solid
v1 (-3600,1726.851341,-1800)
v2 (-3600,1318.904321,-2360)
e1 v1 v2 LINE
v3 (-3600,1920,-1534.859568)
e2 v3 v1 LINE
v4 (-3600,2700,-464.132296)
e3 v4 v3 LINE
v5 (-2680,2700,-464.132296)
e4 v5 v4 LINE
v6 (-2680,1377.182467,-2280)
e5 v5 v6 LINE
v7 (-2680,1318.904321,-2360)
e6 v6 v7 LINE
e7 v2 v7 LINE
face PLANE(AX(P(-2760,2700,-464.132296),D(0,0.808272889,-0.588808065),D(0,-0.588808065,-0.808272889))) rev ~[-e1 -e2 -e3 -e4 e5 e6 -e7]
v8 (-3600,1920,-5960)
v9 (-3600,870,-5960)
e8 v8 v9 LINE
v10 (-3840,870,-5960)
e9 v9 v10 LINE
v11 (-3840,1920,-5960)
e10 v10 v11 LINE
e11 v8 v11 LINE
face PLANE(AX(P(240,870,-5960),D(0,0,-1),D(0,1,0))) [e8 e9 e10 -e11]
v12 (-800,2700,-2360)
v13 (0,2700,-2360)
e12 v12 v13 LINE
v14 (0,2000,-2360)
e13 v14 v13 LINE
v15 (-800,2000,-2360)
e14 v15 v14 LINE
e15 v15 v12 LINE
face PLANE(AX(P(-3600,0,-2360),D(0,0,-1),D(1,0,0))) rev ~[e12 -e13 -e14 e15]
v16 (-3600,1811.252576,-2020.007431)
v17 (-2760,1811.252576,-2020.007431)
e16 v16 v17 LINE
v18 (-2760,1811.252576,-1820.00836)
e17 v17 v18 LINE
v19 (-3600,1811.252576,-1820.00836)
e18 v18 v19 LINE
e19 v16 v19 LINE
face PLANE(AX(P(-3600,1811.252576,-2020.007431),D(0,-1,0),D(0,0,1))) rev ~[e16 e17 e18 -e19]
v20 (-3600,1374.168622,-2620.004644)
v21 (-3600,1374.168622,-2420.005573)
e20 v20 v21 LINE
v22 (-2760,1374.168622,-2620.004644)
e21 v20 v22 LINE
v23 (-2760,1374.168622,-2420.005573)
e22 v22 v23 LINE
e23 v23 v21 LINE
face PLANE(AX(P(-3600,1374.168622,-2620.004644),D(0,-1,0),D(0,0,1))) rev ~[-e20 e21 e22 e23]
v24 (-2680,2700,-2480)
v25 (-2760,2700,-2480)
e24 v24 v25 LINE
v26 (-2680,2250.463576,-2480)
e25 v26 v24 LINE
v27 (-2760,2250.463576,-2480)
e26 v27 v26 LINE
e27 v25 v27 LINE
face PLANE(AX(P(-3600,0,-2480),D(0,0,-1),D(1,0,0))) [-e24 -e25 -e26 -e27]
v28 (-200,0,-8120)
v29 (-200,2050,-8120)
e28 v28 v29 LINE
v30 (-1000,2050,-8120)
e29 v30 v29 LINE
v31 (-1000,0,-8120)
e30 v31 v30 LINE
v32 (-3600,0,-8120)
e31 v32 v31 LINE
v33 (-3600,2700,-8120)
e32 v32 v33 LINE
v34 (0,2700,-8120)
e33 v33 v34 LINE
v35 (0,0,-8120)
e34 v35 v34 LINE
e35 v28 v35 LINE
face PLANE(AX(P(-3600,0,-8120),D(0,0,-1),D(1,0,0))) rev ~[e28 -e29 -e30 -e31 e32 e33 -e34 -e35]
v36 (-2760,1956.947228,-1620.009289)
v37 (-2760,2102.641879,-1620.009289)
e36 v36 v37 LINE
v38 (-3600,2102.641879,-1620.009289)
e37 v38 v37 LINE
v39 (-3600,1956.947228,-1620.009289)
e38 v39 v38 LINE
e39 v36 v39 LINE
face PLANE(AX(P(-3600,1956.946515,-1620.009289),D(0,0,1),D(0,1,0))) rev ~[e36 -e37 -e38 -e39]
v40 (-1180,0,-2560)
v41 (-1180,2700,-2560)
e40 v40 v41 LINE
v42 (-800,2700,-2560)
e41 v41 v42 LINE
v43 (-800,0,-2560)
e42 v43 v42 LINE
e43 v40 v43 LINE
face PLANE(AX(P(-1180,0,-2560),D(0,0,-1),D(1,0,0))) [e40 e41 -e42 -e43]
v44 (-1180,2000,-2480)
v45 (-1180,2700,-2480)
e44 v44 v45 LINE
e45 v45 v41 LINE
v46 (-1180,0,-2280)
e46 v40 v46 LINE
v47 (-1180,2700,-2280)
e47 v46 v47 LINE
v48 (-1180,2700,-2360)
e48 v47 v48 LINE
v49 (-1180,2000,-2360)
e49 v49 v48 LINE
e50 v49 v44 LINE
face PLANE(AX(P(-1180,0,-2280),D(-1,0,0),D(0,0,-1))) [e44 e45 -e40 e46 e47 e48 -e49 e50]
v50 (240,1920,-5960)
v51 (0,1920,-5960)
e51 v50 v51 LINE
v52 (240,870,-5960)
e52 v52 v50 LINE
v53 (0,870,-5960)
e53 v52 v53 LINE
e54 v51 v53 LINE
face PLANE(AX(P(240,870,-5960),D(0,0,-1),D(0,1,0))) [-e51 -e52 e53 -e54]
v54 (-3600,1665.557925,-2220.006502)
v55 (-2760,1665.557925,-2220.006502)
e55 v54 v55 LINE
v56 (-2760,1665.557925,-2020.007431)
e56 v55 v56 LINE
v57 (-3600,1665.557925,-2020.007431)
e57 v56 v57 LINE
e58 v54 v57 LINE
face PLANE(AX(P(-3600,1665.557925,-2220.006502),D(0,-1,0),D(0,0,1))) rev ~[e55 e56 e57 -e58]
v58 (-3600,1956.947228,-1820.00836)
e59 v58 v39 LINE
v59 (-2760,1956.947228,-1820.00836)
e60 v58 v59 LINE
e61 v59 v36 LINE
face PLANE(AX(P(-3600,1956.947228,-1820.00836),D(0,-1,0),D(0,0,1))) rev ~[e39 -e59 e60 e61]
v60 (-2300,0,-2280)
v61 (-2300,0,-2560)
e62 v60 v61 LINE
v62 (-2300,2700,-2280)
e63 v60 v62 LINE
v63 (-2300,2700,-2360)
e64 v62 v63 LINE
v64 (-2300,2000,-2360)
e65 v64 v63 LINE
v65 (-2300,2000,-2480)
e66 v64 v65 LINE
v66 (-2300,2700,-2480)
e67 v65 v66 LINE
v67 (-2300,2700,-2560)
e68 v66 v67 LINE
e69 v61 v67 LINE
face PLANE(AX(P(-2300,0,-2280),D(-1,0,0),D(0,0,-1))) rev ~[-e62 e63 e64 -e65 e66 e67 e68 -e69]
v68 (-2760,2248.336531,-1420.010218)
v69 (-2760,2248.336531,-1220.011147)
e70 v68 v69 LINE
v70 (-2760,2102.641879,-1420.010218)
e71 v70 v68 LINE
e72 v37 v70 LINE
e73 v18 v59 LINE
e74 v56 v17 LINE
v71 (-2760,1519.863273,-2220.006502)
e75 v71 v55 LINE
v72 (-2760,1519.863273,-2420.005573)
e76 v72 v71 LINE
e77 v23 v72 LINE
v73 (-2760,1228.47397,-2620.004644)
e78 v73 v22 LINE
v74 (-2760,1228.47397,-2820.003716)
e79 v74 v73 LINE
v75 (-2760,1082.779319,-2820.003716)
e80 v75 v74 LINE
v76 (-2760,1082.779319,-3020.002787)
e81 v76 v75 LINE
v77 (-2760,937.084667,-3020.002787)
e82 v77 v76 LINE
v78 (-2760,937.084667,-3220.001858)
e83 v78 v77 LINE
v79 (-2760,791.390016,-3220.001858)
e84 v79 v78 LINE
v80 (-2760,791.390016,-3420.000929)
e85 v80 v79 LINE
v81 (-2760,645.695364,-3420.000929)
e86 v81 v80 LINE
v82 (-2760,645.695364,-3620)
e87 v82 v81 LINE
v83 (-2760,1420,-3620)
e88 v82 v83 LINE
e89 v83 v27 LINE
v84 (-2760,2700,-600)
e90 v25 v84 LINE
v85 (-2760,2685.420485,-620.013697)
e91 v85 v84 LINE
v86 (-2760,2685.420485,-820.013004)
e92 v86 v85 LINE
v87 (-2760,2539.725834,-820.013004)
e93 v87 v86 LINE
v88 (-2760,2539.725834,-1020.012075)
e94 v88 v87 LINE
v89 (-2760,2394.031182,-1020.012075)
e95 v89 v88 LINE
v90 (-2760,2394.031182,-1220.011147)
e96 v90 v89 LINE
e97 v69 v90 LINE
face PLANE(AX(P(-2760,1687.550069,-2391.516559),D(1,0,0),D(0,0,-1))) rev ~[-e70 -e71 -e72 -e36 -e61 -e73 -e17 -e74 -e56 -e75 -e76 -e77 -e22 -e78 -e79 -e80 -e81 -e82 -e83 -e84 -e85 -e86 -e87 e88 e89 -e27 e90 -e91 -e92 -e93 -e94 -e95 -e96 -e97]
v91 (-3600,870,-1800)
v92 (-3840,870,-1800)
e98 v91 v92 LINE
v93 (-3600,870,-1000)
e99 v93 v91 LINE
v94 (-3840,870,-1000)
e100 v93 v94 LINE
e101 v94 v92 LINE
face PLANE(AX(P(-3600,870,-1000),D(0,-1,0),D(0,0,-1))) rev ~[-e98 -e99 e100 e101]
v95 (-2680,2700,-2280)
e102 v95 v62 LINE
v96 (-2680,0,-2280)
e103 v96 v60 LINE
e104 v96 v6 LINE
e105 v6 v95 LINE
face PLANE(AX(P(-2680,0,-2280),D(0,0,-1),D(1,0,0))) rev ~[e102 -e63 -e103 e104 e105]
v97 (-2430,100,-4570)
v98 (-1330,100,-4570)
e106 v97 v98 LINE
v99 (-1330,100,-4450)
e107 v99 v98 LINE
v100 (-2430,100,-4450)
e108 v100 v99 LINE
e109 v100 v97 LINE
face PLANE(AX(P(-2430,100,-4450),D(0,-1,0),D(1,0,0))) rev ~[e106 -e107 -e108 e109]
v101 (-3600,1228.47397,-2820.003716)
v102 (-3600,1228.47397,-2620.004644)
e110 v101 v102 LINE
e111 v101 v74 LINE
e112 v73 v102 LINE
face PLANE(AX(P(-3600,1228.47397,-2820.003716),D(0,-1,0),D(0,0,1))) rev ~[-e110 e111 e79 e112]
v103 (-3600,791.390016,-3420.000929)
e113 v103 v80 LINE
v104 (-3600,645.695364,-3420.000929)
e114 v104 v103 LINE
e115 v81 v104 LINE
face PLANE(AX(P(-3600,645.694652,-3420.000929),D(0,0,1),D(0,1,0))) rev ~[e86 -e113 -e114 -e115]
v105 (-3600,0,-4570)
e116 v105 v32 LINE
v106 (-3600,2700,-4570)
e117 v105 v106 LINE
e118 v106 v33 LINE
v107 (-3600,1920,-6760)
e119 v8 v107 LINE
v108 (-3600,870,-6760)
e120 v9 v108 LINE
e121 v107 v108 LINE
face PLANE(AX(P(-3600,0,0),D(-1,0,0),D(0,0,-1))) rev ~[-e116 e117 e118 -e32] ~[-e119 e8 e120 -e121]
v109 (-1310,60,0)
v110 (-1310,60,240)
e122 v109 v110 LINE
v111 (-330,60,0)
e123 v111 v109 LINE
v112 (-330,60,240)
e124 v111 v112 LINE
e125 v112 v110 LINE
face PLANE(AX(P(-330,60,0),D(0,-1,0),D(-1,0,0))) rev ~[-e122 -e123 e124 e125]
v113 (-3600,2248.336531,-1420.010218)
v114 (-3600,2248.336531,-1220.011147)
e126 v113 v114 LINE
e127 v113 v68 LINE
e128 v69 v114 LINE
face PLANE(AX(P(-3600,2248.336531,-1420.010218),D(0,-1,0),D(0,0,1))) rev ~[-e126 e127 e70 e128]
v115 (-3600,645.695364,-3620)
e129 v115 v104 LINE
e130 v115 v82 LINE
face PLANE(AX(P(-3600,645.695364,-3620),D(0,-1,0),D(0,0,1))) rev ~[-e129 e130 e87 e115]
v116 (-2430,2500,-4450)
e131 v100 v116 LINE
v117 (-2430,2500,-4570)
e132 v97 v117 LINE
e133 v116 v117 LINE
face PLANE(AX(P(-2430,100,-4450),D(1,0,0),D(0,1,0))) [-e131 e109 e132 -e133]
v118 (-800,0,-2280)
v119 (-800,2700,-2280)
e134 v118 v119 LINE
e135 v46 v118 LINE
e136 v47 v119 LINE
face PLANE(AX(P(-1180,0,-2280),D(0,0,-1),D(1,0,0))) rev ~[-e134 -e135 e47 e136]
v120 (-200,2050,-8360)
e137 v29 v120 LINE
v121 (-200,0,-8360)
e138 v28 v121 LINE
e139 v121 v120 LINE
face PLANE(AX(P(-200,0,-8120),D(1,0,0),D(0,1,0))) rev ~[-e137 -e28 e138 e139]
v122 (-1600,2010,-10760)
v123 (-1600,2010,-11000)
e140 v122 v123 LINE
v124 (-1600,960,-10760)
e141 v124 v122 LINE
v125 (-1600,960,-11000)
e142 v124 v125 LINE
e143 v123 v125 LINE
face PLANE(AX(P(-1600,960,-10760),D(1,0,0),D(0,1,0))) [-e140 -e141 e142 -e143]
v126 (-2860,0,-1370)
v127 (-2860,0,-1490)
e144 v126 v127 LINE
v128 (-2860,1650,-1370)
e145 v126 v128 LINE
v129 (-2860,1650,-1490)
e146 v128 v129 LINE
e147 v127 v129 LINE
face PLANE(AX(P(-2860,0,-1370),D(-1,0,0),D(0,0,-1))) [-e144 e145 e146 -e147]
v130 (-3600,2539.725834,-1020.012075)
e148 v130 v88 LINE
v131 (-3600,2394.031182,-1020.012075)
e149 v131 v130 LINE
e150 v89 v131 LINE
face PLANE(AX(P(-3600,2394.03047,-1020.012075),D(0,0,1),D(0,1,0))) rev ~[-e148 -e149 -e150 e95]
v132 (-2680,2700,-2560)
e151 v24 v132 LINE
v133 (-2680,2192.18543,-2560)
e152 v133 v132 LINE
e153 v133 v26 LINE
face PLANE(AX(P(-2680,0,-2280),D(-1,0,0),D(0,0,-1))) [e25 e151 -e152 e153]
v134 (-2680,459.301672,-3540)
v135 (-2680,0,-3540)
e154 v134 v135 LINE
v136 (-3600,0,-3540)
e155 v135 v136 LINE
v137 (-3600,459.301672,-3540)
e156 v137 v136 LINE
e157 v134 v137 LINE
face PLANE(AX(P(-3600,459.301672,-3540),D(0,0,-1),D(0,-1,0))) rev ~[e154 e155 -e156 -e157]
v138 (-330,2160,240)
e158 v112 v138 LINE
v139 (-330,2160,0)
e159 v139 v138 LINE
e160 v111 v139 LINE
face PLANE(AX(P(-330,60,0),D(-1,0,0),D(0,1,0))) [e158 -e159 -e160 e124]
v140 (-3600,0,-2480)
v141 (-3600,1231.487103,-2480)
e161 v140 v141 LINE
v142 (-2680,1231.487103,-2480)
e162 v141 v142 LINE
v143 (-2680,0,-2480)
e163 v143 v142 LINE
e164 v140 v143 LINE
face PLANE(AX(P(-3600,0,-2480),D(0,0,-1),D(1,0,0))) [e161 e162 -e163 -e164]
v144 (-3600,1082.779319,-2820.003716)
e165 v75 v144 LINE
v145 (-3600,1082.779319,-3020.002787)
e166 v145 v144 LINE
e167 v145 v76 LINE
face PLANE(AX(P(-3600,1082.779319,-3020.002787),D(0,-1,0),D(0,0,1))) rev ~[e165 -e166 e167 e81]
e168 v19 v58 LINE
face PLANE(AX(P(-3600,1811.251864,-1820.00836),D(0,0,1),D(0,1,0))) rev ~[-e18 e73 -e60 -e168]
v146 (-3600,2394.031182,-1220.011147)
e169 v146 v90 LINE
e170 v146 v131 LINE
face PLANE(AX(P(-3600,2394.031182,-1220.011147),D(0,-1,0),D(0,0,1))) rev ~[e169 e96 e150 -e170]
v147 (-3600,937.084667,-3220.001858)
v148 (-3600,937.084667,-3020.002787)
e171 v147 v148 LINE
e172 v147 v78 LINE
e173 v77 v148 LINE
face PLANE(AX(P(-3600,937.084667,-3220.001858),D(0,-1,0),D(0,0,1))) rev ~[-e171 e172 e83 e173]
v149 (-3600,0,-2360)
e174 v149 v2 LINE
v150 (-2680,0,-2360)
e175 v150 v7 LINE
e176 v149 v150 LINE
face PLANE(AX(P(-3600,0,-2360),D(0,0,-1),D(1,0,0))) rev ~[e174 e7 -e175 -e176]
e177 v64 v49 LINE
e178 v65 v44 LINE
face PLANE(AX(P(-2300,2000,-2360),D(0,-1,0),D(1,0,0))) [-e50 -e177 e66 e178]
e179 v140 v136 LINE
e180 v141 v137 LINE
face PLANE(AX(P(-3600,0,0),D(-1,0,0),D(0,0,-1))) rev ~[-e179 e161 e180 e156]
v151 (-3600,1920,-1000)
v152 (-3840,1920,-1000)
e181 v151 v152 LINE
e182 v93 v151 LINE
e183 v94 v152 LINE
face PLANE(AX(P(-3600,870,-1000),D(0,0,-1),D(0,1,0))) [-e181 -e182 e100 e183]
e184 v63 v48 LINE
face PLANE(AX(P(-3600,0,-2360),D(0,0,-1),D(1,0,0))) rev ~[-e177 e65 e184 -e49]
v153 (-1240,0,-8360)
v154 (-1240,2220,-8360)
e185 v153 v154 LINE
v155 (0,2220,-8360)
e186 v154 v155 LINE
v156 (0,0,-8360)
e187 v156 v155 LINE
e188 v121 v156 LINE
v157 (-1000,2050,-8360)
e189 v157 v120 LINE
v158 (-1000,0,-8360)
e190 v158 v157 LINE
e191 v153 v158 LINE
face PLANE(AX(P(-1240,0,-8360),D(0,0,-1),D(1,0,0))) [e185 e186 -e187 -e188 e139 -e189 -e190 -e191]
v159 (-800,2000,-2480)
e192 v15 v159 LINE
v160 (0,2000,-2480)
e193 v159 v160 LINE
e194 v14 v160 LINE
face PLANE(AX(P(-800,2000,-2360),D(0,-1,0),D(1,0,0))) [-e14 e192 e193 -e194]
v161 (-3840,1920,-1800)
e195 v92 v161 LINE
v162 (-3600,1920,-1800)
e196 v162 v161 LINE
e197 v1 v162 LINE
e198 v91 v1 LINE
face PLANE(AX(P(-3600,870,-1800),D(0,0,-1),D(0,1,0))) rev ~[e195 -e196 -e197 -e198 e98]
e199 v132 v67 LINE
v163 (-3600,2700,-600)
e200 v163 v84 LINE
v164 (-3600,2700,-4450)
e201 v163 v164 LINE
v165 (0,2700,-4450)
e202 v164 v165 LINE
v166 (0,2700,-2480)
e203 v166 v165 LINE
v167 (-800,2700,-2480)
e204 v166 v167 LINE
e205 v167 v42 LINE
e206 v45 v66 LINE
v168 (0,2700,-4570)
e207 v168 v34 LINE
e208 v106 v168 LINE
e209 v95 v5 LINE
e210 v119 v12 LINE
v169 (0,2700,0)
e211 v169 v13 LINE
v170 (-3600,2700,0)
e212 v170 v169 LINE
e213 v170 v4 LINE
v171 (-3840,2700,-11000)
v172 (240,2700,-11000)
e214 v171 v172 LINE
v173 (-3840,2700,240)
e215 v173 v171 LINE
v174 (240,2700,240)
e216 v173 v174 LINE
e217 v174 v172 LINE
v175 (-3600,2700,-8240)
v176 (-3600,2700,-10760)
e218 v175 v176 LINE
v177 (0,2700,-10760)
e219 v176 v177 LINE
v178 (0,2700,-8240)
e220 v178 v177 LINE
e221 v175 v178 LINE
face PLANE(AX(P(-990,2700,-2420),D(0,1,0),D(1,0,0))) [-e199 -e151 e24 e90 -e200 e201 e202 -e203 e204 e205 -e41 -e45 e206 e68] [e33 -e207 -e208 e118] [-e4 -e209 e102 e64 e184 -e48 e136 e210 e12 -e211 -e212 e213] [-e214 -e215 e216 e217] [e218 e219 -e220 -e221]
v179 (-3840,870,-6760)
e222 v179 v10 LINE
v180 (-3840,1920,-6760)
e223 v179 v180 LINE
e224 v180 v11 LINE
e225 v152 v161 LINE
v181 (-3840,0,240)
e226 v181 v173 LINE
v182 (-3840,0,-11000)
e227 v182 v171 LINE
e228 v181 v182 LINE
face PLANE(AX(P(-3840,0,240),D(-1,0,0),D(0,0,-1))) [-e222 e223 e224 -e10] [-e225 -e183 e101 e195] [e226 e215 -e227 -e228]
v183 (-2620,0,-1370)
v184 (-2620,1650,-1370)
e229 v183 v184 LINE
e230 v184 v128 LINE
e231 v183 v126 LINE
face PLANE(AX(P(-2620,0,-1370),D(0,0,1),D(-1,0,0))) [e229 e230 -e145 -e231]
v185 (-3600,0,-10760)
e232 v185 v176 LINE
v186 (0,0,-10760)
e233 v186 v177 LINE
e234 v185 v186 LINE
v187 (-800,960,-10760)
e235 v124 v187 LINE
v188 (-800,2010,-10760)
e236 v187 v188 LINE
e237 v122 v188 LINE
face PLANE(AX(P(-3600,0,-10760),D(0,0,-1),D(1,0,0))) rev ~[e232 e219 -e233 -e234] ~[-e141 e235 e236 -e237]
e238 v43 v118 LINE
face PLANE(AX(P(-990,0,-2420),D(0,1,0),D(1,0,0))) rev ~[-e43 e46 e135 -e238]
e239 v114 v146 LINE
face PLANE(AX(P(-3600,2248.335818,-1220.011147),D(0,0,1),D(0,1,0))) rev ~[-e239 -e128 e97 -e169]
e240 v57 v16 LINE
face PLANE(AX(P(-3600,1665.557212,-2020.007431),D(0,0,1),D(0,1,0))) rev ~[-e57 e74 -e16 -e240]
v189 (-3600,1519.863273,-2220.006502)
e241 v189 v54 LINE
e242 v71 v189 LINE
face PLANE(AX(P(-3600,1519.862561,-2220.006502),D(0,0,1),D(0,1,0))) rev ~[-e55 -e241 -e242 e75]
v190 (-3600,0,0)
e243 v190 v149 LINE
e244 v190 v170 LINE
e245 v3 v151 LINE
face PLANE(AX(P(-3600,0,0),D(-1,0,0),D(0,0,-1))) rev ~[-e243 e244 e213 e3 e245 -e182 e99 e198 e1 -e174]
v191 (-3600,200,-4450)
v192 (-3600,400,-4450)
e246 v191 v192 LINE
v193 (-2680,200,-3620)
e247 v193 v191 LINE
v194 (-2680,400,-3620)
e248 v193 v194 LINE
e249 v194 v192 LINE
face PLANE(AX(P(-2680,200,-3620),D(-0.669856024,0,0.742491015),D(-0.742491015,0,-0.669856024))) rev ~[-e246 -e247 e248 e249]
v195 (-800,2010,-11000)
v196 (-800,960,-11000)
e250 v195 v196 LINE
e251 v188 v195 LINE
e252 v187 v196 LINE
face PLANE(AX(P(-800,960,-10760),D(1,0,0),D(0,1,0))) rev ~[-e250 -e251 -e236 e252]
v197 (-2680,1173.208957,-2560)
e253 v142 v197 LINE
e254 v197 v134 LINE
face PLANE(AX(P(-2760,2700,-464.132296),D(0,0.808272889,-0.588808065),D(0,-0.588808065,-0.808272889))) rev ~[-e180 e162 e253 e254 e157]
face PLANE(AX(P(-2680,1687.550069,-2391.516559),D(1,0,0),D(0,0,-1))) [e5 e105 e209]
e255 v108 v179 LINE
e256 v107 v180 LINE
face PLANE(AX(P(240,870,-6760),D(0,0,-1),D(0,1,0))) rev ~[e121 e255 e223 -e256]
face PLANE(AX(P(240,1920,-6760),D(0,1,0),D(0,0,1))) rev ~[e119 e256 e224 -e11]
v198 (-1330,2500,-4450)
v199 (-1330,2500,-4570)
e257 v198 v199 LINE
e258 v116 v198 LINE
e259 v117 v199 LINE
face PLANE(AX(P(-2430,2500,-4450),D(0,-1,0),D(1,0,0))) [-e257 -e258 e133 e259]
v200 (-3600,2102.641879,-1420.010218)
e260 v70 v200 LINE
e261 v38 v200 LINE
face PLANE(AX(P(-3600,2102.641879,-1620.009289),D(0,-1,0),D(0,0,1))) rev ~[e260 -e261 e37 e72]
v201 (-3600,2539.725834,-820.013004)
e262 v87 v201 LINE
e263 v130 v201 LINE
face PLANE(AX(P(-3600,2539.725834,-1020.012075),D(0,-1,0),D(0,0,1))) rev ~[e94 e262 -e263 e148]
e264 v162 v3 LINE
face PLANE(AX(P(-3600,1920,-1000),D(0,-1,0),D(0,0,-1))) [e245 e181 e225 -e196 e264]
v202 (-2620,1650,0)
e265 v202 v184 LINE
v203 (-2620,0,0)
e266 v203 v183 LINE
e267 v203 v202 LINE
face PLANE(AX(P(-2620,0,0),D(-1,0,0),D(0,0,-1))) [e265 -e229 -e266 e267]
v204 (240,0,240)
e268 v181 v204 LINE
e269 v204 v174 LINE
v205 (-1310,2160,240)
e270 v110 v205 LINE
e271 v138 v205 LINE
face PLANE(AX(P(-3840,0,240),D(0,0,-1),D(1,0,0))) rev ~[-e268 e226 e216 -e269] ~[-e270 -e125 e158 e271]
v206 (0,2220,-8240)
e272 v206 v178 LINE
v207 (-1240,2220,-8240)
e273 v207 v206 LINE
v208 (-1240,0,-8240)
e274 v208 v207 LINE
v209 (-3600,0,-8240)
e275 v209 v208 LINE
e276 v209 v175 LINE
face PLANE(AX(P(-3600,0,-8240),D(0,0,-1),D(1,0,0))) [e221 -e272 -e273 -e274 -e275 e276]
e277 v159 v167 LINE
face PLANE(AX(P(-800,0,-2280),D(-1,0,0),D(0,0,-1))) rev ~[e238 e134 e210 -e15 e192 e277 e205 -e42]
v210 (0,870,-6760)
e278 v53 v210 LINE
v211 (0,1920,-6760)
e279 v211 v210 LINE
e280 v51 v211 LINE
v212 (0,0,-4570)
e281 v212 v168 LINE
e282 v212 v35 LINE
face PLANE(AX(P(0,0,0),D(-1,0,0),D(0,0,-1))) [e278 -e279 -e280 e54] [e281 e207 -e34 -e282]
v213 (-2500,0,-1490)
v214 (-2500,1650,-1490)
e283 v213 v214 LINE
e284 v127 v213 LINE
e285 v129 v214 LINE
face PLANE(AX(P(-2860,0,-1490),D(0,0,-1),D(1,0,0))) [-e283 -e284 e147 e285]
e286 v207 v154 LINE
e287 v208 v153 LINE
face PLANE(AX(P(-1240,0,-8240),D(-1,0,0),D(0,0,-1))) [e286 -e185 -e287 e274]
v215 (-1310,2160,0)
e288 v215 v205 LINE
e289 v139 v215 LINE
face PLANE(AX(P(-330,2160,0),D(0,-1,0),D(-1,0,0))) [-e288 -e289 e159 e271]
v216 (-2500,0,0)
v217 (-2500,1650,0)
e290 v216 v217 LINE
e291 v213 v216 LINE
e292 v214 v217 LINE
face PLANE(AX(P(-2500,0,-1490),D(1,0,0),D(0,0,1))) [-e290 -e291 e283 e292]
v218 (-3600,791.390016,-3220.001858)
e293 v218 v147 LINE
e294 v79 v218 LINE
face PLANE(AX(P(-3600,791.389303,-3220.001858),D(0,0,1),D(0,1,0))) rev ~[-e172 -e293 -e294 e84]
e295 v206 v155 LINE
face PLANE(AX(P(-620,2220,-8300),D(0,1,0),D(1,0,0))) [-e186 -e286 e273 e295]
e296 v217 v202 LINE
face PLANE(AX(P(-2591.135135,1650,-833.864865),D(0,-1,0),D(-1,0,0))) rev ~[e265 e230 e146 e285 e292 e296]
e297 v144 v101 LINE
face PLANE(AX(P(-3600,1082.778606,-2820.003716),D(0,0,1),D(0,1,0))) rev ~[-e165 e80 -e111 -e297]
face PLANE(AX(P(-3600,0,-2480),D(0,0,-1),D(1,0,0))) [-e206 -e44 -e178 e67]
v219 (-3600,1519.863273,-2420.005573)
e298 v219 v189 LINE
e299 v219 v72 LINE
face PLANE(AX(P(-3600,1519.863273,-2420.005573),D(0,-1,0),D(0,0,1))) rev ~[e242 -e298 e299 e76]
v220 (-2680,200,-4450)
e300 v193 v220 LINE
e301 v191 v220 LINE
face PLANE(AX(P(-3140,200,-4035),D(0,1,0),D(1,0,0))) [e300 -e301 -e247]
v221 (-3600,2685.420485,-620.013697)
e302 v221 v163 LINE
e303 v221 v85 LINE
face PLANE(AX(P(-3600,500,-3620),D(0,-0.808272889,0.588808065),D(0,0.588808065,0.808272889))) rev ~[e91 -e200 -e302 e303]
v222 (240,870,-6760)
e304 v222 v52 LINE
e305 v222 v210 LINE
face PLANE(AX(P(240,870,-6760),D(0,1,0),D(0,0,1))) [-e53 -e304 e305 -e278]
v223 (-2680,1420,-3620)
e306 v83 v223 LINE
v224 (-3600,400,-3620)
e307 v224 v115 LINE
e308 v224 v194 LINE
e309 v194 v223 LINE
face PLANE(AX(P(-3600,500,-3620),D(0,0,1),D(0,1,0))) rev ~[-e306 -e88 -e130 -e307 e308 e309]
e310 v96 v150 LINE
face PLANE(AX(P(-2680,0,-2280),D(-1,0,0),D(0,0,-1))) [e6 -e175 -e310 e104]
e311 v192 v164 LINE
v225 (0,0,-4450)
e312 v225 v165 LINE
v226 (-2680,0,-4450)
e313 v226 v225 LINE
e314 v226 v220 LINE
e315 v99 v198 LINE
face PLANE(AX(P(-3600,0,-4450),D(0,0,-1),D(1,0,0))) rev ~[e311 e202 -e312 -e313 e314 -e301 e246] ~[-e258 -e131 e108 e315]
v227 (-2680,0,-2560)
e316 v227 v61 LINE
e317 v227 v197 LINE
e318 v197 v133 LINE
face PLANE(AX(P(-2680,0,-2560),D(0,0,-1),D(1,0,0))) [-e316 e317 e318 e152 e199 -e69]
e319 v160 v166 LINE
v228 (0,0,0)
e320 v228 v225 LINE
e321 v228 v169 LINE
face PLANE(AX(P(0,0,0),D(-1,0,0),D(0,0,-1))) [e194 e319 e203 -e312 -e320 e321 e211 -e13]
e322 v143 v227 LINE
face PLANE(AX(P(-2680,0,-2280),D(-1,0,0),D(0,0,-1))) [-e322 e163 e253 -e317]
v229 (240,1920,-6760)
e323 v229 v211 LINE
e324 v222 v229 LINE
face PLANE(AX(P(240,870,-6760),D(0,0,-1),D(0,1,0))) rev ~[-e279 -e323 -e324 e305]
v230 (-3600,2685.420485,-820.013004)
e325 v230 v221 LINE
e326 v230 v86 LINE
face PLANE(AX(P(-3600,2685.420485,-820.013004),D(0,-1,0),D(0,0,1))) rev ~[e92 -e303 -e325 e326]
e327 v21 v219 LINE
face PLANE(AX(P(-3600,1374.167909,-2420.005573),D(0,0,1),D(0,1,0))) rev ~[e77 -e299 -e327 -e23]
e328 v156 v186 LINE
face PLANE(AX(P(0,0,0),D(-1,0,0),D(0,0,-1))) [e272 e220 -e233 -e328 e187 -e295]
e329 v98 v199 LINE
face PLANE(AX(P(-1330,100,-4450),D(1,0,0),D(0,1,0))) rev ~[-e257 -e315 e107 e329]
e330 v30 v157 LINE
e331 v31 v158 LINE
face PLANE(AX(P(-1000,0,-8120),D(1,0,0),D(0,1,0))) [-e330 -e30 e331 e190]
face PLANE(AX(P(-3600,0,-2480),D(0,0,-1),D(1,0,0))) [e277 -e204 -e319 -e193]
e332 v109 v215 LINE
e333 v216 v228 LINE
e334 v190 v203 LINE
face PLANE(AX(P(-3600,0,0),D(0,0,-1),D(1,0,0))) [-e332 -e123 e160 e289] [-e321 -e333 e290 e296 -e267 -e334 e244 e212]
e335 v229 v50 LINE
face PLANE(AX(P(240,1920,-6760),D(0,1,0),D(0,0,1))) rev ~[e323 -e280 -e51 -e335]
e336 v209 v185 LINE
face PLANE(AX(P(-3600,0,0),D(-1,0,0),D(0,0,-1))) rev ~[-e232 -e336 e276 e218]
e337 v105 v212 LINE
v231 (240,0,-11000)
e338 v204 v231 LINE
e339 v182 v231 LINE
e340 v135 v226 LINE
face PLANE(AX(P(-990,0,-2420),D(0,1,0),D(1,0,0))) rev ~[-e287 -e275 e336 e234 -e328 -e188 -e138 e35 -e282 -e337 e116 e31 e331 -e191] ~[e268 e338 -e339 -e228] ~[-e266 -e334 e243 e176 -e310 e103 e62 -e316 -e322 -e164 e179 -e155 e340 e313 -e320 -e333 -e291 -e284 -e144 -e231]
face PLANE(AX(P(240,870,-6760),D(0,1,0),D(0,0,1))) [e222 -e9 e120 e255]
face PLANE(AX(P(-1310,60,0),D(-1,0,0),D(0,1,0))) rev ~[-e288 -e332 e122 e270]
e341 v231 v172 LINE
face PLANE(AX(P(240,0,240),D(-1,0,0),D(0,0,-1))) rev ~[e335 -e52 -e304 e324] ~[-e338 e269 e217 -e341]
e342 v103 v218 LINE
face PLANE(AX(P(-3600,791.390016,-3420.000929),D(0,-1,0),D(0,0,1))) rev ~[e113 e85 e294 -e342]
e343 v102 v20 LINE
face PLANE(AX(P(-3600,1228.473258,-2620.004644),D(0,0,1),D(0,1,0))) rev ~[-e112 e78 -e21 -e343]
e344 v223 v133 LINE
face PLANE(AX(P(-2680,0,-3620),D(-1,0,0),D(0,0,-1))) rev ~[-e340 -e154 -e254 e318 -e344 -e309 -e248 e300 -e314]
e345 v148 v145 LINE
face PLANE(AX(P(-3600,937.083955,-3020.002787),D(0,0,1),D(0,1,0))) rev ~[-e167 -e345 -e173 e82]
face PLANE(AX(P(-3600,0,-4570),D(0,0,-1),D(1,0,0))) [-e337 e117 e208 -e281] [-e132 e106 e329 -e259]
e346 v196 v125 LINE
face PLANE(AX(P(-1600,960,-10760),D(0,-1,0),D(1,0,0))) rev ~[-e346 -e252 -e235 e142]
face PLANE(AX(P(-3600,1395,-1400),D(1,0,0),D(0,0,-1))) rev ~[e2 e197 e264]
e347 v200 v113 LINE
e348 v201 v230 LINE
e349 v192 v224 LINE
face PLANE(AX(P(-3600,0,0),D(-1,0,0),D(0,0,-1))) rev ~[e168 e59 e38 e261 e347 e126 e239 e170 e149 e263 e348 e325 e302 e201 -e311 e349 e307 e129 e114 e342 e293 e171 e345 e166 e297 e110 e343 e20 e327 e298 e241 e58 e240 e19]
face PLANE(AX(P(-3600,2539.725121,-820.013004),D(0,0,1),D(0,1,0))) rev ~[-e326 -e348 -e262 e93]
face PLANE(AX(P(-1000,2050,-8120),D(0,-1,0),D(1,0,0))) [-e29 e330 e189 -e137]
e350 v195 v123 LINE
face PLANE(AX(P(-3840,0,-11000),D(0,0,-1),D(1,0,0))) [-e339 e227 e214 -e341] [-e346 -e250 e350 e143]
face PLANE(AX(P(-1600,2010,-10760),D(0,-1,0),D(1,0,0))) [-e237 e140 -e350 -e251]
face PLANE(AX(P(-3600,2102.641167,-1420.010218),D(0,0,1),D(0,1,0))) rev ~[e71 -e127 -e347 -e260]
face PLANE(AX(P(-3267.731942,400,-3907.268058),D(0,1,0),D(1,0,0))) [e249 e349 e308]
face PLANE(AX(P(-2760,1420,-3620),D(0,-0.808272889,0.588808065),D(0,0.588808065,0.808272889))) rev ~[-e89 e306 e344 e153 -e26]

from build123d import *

# Parameters (mm, degrees)
SKETCH_1_W                = 4080
SKETCH_1_H                = 11240
SKETCH_1_W_2              = 3600
SKETCH_1_H_2              = 10760
EXTRUDE_512_DEPTH         = 2700
SKETCH_6_W                = 3600
SKETCH_6_H                = 120
EXTRUDE_823_DEPTH         = 2700
SKETCH_12_W               = 1240
SKETCH_12_H               = 120
EXTRUDE_1044_DEPTH        = 2220
CUT_EXTRUDE_1283_REACH    = 2882
SKETCH_10_W               = 800
SKETCH_10_H               = 2050
SKETCH_7_W                = 3600
SKETCH_7_H                = 120
EXTRUDE_1405_DEPTH        = 2700
CUT_EXTRUDE_1668_REACH    = 6552
SKETCH_13_W               = 1100
SKETCH_13_H               = 2400
SKETCH_8_W                = 3600
SKETCH_8_H                = 120
EXTRUDE_1790_DEPTH        = 2700
EXTRUDE_2112_DEPTH        = 840
EXTRUDE_2407_DEPTH        = 80
CUT_EXTRUDE_2805_REACH    = 2702
SKETCH_19_W               = 840
SKETCH_19_H               = 120
EXTRUDE_2943_DEPTH        = 1650
EXTRUDE_3217_DEPTH        = 840
PATTERN_LINEAR_3276_COUNT = 15
PATTERN_LINEAR_3276_PITCH = 247.44
SKETCH_22_W               = 920
SKETCH_22_H               = 830
EXTRUDE_7_DEPTH           = 200
EXTRUDE_8_DEPTH           = 200
SKETCH_14_W               = 380
SKETCH_14_H               = 280
EXTRUDE_3881_DEPTH        = 2700
CUT_EXTRUDE_4195_REACH    = 8642
SKETCH_15_W               = 800
SKETCH_15_H               = 2000
SKETCH_15_W_2             = 1120
SKETCH_2_W                = 980
SKETCH_2_H                = 2100
CUT_EXTRUDE_4473_DEPTH    = 241
SKETCH_4_W                = 800
SKETCH_4_H                = 1050
CUT_EXTRUDE_4728_DEPTH    = 241
SKETCH_3_W                = 800
SKETCH_3_H                = 1050
CUT_EXTRUDE_5092_DEPTH    = 4080
CUT_EXTRUDE_5326_REACH    = 242
SKETCH_16_W               = 800
SKETCH_16_H               = 1050


with BuildPart() as part:
    # 草图1 → Extrude 512 (new body)
    with BuildSketch(Plane(origin=(0, 0, 0), x_dir=(1, 0, 0), z_dir=(0, 1, 0))):
        with Locations((-1800, 5380)):
            Rectangle(SKETCH_1_W, SKETCH_1_H)
        with Locations((-1800, 5380)):
            Rectangle(SKETCH_1_W_2, SKETCH_1_H_2, mode=Mode.SUBTRACT)
    extrude(amount=EXTRUDE_512_DEPTH)

    # 草图6 → Extrude 823 (add)
    with BuildSketch(Plane(origin=(0, 0, 0), x_dir=(1, 0, 0), z_dir=(0, 1, 0))):
        with Locations((-1800, 8180)):
            Rectangle(SKETCH_6_W, SKETCH_6_H)
    extrude(amount=EXTRUDE_823_DEPTH)

    # 草图12 → Extrude 1044 (add)
    with BuildSketch(Plane(origin=(0, 0, 0), x_dir=(1, 0, 0), z_dir=(0, 1, 0))):
        with Locations((-620, 8300)):
            Rectangle(SKETCH_12_W, SKETCH_12_H)
    extrude(amount=EXTRUDE_1044_DEPTH)

    # 草图10 → Cut-Extrude 1283 (cut, up to next)
    with BuildSketch(Plane.XY.offset(-8120), mode=Mode.PRIVATE) as cut_extrude_1283_sk1:
        with Locations((-600, 1025)):
            Rectangle(SKETCH_10_W, SKETCH_10_H)
    cut_extrude_1283_tool1 = extrude(cut_extrude_1283_sk1.sketch, amount=-CUT_EXTRUDE_1283_REACH, mode=Mode.PRIVATE) & part.part
    add(cut_extrude_1283_tool1.solids().sort_by_distance((-600, 1025, -8120))[0], mode=Mode.SUBTRACT)

    # 草图7 → Extrude 1405 (add)
    with BuildSketch(Plane(origin=(0, 0, 0), x_dir=(1, 0, 0), z_dir=(0, 1, 0))):
        with Locations((-1800, 4510)):
            Rectangle(SKETCH_7_W, SKETCH_7_H)
    extrude(amount=EXTRUDE_1405_DEPTH)

    # 草图13 → Cut-Extrude 1668 (cut, up to next)
    with BuildSketch(Plane.XY.offset(-4450), mode=Mode.PRIVATE) as cut_extrude_1668_sk1:
        with Locations((-1880, 1300)):
            Rectangle(SKETCH_13_W, SKETCH_13_H)
    cut_extrude_1668_tool1 = extrude(cut_extrude_1668_sk1.sketch, amount=-CUT_EXTRUDE_1668_REACH, mode=Mode.PRIVATE) & part.part
    add(cut_extrude_1668_tool1.solids().sort_by_distance((-1880, 1300, -4450))[0], mode=Mode.SUBTRACT)

    # 草图8 → Extrude 1790 (add)
    with BuildSketch(Plane(origin=(0, 0, 0), x_dir=(1, 0, 0), z_dir=(0, 1, 0))):
        with Locations((-1800, 2420)):
            Rectangle(SKETCH_8_W, SKETCH_8_H)
    extrude(amount=EXTRUDE_1790_DEPTH)

    # 草图17 → Extrude 2112 (add)
    with BuildSketch(Plane(origin=(-3600, 0, 0), x_dir=(0, 0, -1), z_dir=(1, 0, 0))):
        Polygon((464.132296, 2700), (3540, 459.301672), (3540, 0), (3620, 0), (3620, 500), (600, 2700), align=None)
    extrude(amount=EXTRUDE_2112_DEPTH)

    # 草图18 → Extrude 2407 (add)
    with BuildSketch(Plane(origin=(-2760, 0, 0), x_dir=(0, 0, -1), z_dir=(1, 0, 0))):
        Polygon((464.132296, 2700), (3540, 459.301672), (3540, 0), (3620, 0), (3620, 1420), (2480, 2250.463576), (2480, 2700), align=None)
    extrude(amount=EXTRUDE_2407_DEPTH)

    # Cut-Extrude 2805: up to this face of the body (flat: up to its plane)
    cut_extrude_2805_end = Plane(part.part.faces().sort_by_distance((-3180, 2058.940397, -1480))[0])
    # 草图19 → Cut-Extrude 2805 (cut, up to the picked face)
    with BuildSketch(Plane(origin=(0, 2700, 0), x_dir=(1, 0, 0), z_dir=(0, 1, 0)), mode=Mode.PRIVATE) as cut_extrude_2805_sk1:
        with Locations((-3180, 2420)):
            Rectangle(SKETCH_19_W, SKETCH_19_H)
    cut_extrude_2805_tool1 = split(extrude(cut_extrude_2805_sk1.sketch, amount=-CUT_EXTRUDE_2805_REACH, mode=Mode.PRIVATE), bisect_by=cut_extrude_2805_end, keep=Keep.BOTH, mode=Mode.PRIVATE)
    add(cut_extrude_2805_tool1.solids().sort_by_distance((-3180, 2700, -2420))[0], mode=Mode.SUBTRACT)

    # 草图20 → Extrude 2943 (add)
    with BuildSketch(Plane(origin=(0, 0, 0), x_dir=(1, 0, 0), z_dir=(0, 1, 0))):
        Polygon((-2860, 1490), (-2500, 1490), (-2500, 0), (-2620, 0), (-2620, 1370), (-2860, 1370), align=None)
    extrude(amount=EXTRUDE_2943_DEPTH)

    # 草图21 → Extrude 3217 (add)
    with BuildSketch(Plane(origin=(-3600, 0, 0), x_dir=(0, 0, -1), z_dir=(1, 0, 0))):
        Polygon((3620, 500), (3620, 645.695364), (3420, 645.695364), align=None)
    extrude_3217 = extrude(amount=EXTRUDE_3217_DEPTH)

    # Pattern Linear 3276: Extrude 3217 ×15
    with Locations(*[Vector(0, 0.588808, 0.808273) * (i * PATTERN_LINEAR_3276_PITCH) for i in range(1, PATTERN_LINEAR_3276_COUNT)]):
        add(extrude_3217)

    # 草图22 → 凸台-拉伸7 (add)
    with BuildSketch(Plane(origin=(0, 0, 0), x_dir=(1, 0, 0), z_dir=(0, 1, 0))):
        with Locations((-3140, 4035)):
            Rectangle(SKETCH_22_W, SKETCH_22_H)
    extrude(amount=EXTRUDE_7_DEPTH)

    # 草图23 → 凸台-拉伸8 (add)
    with BuildSketch(Plane(origin=(0, 200, 0), x_dir=(1, 0, 0), z_dir=(0, 1, 0))):
        Polygon((-3600, 4450), (-3600, 3620), (-2680, 3620), align=None)
    extrude(amount=EXTRUDE_8_DEPTH)

    # 草图14 → Extrude 3881 (add)
    with BuildSketch(Plane(origin=(0, 0, 0), x_dir=(1, 0, 0), z_dir=(0, 1, 0))):
        with Locations((-990, 2420)):
            Rectangle(SKETCH_14_W, SKETCH_14_H)
        with Locations((-2490, 2420)):
            Rectangle(SKETCH_14_W, SKETCH_14_H)
    extrude(amount=EXTRUDE_3881_DEPTH)

    # 草图15 → Cut-Extrude 4195 (cut, up to next)
    with BuildSketch(Plane.XY.offset(-2360), mode=Mode.PRIVATE) as cut_extrude_4195_sk1:
        with Locations((-400, 1000)):
            Rectangle(SKETCH_15_W, SKETCH_15_H)
    cut_extrude_4195_tool1 = extrude(cut_extrude_4195_sk1.sketch, amount=-CUT_EXTRUDE_4195_REACH, mode=Mode.PRIVATE) & part.part
    add(cut_extrude_4195_tool1.solids().sort_by_distance((-400, 1000, -2360))[0], mode=Mode.SUBTRACT)
    # 草图15 → Cut-Extrude 4195 (cut, up to next)
    with BuildSketch(Plane.XY.offset(-2360), mode=Mode.PRIVATE) as cut_extrude_4195_sk2:
        with Locations((-1740, 1000)):
            Rectangle(SKETCH_15_W_2, SKETCH_15_H)
    cut_extrude_4195_tool2 = extrude(cut_extrude_4195_sk2.sketch, amount=-CUT_EXTRUDE_4195_REACH, mode=Mode.PRIVATE) & part.part
    add(cut_extrude_4195_tool2.solids().sort_by_distance((-1740, 1000, -2360))[0], mode=Mode.SUBTRACT)

    # 草图2 → Cut-Extrude 4473 (cut, through all)
    with BuildSketch(Plane(origin=(0, 0, 0), x_dir=(-1, 0, 0), z_dir=(0, 0, -1))):
        with Locations((820, 1110)):
            Rectangle(SKETCH_2_W, SKETCH_2_H)
    extrude(amount=-CUT_EXTRUDE_4473_DEPTH, mode=Mode.SUBTRACT)

    # 草图4 → Cut-Extrude 4728 (cut, through all)
    with BuildSketch(Plane.XY.offset(-10760)):
        with Locations((-1200, 1485)):
            Rectangle(SKETCH_4_W, SKETCH_4_H)
    extrude(amount=-CUT_EXTRUDE_4728_DEPTH, mode=Mode.SUBTRACT)

    # 草图3 → Cut-Extrude 5092 (cut)
    with BuildSketch(Plane.ZY.offset(-240)):
        with Locations((-6360, 1395)):
            Rectangle(SKETCH_3_W, SKETCH_3_H)
    extrude(amount=CUT_EXTRUDE_5092_DEPTH, mode=Mode.SUBTRACT)

    # 草图16 → Cut-Extrude 5326 (cut, up to next)
    with BuildSketch(Plane(origin=(-3600, 0, 0), x_dir=(0, 0, -1), z_dir=(1, 0, 0)), mode=Mode.PRIVATE) as cut_extrude_5326_sk1:
        with Locations((1400, 1395)):
            Rectangle(SKETCH_16_W, SKETCH_16_H)
    cut_extrude_5326_tool1 = extrude(cut_extrude_5326_sk1.sketch, amount=-CUT_EXTRUDE_5326_REACH, mode=Mode.PRIVATE) & part.part
    add(cut_extrude_5326_tool1.solids().sort_by_distance((-3600, 1395, -1400))[0], mode=Mode.SUBTRACT)


solid = part.part
